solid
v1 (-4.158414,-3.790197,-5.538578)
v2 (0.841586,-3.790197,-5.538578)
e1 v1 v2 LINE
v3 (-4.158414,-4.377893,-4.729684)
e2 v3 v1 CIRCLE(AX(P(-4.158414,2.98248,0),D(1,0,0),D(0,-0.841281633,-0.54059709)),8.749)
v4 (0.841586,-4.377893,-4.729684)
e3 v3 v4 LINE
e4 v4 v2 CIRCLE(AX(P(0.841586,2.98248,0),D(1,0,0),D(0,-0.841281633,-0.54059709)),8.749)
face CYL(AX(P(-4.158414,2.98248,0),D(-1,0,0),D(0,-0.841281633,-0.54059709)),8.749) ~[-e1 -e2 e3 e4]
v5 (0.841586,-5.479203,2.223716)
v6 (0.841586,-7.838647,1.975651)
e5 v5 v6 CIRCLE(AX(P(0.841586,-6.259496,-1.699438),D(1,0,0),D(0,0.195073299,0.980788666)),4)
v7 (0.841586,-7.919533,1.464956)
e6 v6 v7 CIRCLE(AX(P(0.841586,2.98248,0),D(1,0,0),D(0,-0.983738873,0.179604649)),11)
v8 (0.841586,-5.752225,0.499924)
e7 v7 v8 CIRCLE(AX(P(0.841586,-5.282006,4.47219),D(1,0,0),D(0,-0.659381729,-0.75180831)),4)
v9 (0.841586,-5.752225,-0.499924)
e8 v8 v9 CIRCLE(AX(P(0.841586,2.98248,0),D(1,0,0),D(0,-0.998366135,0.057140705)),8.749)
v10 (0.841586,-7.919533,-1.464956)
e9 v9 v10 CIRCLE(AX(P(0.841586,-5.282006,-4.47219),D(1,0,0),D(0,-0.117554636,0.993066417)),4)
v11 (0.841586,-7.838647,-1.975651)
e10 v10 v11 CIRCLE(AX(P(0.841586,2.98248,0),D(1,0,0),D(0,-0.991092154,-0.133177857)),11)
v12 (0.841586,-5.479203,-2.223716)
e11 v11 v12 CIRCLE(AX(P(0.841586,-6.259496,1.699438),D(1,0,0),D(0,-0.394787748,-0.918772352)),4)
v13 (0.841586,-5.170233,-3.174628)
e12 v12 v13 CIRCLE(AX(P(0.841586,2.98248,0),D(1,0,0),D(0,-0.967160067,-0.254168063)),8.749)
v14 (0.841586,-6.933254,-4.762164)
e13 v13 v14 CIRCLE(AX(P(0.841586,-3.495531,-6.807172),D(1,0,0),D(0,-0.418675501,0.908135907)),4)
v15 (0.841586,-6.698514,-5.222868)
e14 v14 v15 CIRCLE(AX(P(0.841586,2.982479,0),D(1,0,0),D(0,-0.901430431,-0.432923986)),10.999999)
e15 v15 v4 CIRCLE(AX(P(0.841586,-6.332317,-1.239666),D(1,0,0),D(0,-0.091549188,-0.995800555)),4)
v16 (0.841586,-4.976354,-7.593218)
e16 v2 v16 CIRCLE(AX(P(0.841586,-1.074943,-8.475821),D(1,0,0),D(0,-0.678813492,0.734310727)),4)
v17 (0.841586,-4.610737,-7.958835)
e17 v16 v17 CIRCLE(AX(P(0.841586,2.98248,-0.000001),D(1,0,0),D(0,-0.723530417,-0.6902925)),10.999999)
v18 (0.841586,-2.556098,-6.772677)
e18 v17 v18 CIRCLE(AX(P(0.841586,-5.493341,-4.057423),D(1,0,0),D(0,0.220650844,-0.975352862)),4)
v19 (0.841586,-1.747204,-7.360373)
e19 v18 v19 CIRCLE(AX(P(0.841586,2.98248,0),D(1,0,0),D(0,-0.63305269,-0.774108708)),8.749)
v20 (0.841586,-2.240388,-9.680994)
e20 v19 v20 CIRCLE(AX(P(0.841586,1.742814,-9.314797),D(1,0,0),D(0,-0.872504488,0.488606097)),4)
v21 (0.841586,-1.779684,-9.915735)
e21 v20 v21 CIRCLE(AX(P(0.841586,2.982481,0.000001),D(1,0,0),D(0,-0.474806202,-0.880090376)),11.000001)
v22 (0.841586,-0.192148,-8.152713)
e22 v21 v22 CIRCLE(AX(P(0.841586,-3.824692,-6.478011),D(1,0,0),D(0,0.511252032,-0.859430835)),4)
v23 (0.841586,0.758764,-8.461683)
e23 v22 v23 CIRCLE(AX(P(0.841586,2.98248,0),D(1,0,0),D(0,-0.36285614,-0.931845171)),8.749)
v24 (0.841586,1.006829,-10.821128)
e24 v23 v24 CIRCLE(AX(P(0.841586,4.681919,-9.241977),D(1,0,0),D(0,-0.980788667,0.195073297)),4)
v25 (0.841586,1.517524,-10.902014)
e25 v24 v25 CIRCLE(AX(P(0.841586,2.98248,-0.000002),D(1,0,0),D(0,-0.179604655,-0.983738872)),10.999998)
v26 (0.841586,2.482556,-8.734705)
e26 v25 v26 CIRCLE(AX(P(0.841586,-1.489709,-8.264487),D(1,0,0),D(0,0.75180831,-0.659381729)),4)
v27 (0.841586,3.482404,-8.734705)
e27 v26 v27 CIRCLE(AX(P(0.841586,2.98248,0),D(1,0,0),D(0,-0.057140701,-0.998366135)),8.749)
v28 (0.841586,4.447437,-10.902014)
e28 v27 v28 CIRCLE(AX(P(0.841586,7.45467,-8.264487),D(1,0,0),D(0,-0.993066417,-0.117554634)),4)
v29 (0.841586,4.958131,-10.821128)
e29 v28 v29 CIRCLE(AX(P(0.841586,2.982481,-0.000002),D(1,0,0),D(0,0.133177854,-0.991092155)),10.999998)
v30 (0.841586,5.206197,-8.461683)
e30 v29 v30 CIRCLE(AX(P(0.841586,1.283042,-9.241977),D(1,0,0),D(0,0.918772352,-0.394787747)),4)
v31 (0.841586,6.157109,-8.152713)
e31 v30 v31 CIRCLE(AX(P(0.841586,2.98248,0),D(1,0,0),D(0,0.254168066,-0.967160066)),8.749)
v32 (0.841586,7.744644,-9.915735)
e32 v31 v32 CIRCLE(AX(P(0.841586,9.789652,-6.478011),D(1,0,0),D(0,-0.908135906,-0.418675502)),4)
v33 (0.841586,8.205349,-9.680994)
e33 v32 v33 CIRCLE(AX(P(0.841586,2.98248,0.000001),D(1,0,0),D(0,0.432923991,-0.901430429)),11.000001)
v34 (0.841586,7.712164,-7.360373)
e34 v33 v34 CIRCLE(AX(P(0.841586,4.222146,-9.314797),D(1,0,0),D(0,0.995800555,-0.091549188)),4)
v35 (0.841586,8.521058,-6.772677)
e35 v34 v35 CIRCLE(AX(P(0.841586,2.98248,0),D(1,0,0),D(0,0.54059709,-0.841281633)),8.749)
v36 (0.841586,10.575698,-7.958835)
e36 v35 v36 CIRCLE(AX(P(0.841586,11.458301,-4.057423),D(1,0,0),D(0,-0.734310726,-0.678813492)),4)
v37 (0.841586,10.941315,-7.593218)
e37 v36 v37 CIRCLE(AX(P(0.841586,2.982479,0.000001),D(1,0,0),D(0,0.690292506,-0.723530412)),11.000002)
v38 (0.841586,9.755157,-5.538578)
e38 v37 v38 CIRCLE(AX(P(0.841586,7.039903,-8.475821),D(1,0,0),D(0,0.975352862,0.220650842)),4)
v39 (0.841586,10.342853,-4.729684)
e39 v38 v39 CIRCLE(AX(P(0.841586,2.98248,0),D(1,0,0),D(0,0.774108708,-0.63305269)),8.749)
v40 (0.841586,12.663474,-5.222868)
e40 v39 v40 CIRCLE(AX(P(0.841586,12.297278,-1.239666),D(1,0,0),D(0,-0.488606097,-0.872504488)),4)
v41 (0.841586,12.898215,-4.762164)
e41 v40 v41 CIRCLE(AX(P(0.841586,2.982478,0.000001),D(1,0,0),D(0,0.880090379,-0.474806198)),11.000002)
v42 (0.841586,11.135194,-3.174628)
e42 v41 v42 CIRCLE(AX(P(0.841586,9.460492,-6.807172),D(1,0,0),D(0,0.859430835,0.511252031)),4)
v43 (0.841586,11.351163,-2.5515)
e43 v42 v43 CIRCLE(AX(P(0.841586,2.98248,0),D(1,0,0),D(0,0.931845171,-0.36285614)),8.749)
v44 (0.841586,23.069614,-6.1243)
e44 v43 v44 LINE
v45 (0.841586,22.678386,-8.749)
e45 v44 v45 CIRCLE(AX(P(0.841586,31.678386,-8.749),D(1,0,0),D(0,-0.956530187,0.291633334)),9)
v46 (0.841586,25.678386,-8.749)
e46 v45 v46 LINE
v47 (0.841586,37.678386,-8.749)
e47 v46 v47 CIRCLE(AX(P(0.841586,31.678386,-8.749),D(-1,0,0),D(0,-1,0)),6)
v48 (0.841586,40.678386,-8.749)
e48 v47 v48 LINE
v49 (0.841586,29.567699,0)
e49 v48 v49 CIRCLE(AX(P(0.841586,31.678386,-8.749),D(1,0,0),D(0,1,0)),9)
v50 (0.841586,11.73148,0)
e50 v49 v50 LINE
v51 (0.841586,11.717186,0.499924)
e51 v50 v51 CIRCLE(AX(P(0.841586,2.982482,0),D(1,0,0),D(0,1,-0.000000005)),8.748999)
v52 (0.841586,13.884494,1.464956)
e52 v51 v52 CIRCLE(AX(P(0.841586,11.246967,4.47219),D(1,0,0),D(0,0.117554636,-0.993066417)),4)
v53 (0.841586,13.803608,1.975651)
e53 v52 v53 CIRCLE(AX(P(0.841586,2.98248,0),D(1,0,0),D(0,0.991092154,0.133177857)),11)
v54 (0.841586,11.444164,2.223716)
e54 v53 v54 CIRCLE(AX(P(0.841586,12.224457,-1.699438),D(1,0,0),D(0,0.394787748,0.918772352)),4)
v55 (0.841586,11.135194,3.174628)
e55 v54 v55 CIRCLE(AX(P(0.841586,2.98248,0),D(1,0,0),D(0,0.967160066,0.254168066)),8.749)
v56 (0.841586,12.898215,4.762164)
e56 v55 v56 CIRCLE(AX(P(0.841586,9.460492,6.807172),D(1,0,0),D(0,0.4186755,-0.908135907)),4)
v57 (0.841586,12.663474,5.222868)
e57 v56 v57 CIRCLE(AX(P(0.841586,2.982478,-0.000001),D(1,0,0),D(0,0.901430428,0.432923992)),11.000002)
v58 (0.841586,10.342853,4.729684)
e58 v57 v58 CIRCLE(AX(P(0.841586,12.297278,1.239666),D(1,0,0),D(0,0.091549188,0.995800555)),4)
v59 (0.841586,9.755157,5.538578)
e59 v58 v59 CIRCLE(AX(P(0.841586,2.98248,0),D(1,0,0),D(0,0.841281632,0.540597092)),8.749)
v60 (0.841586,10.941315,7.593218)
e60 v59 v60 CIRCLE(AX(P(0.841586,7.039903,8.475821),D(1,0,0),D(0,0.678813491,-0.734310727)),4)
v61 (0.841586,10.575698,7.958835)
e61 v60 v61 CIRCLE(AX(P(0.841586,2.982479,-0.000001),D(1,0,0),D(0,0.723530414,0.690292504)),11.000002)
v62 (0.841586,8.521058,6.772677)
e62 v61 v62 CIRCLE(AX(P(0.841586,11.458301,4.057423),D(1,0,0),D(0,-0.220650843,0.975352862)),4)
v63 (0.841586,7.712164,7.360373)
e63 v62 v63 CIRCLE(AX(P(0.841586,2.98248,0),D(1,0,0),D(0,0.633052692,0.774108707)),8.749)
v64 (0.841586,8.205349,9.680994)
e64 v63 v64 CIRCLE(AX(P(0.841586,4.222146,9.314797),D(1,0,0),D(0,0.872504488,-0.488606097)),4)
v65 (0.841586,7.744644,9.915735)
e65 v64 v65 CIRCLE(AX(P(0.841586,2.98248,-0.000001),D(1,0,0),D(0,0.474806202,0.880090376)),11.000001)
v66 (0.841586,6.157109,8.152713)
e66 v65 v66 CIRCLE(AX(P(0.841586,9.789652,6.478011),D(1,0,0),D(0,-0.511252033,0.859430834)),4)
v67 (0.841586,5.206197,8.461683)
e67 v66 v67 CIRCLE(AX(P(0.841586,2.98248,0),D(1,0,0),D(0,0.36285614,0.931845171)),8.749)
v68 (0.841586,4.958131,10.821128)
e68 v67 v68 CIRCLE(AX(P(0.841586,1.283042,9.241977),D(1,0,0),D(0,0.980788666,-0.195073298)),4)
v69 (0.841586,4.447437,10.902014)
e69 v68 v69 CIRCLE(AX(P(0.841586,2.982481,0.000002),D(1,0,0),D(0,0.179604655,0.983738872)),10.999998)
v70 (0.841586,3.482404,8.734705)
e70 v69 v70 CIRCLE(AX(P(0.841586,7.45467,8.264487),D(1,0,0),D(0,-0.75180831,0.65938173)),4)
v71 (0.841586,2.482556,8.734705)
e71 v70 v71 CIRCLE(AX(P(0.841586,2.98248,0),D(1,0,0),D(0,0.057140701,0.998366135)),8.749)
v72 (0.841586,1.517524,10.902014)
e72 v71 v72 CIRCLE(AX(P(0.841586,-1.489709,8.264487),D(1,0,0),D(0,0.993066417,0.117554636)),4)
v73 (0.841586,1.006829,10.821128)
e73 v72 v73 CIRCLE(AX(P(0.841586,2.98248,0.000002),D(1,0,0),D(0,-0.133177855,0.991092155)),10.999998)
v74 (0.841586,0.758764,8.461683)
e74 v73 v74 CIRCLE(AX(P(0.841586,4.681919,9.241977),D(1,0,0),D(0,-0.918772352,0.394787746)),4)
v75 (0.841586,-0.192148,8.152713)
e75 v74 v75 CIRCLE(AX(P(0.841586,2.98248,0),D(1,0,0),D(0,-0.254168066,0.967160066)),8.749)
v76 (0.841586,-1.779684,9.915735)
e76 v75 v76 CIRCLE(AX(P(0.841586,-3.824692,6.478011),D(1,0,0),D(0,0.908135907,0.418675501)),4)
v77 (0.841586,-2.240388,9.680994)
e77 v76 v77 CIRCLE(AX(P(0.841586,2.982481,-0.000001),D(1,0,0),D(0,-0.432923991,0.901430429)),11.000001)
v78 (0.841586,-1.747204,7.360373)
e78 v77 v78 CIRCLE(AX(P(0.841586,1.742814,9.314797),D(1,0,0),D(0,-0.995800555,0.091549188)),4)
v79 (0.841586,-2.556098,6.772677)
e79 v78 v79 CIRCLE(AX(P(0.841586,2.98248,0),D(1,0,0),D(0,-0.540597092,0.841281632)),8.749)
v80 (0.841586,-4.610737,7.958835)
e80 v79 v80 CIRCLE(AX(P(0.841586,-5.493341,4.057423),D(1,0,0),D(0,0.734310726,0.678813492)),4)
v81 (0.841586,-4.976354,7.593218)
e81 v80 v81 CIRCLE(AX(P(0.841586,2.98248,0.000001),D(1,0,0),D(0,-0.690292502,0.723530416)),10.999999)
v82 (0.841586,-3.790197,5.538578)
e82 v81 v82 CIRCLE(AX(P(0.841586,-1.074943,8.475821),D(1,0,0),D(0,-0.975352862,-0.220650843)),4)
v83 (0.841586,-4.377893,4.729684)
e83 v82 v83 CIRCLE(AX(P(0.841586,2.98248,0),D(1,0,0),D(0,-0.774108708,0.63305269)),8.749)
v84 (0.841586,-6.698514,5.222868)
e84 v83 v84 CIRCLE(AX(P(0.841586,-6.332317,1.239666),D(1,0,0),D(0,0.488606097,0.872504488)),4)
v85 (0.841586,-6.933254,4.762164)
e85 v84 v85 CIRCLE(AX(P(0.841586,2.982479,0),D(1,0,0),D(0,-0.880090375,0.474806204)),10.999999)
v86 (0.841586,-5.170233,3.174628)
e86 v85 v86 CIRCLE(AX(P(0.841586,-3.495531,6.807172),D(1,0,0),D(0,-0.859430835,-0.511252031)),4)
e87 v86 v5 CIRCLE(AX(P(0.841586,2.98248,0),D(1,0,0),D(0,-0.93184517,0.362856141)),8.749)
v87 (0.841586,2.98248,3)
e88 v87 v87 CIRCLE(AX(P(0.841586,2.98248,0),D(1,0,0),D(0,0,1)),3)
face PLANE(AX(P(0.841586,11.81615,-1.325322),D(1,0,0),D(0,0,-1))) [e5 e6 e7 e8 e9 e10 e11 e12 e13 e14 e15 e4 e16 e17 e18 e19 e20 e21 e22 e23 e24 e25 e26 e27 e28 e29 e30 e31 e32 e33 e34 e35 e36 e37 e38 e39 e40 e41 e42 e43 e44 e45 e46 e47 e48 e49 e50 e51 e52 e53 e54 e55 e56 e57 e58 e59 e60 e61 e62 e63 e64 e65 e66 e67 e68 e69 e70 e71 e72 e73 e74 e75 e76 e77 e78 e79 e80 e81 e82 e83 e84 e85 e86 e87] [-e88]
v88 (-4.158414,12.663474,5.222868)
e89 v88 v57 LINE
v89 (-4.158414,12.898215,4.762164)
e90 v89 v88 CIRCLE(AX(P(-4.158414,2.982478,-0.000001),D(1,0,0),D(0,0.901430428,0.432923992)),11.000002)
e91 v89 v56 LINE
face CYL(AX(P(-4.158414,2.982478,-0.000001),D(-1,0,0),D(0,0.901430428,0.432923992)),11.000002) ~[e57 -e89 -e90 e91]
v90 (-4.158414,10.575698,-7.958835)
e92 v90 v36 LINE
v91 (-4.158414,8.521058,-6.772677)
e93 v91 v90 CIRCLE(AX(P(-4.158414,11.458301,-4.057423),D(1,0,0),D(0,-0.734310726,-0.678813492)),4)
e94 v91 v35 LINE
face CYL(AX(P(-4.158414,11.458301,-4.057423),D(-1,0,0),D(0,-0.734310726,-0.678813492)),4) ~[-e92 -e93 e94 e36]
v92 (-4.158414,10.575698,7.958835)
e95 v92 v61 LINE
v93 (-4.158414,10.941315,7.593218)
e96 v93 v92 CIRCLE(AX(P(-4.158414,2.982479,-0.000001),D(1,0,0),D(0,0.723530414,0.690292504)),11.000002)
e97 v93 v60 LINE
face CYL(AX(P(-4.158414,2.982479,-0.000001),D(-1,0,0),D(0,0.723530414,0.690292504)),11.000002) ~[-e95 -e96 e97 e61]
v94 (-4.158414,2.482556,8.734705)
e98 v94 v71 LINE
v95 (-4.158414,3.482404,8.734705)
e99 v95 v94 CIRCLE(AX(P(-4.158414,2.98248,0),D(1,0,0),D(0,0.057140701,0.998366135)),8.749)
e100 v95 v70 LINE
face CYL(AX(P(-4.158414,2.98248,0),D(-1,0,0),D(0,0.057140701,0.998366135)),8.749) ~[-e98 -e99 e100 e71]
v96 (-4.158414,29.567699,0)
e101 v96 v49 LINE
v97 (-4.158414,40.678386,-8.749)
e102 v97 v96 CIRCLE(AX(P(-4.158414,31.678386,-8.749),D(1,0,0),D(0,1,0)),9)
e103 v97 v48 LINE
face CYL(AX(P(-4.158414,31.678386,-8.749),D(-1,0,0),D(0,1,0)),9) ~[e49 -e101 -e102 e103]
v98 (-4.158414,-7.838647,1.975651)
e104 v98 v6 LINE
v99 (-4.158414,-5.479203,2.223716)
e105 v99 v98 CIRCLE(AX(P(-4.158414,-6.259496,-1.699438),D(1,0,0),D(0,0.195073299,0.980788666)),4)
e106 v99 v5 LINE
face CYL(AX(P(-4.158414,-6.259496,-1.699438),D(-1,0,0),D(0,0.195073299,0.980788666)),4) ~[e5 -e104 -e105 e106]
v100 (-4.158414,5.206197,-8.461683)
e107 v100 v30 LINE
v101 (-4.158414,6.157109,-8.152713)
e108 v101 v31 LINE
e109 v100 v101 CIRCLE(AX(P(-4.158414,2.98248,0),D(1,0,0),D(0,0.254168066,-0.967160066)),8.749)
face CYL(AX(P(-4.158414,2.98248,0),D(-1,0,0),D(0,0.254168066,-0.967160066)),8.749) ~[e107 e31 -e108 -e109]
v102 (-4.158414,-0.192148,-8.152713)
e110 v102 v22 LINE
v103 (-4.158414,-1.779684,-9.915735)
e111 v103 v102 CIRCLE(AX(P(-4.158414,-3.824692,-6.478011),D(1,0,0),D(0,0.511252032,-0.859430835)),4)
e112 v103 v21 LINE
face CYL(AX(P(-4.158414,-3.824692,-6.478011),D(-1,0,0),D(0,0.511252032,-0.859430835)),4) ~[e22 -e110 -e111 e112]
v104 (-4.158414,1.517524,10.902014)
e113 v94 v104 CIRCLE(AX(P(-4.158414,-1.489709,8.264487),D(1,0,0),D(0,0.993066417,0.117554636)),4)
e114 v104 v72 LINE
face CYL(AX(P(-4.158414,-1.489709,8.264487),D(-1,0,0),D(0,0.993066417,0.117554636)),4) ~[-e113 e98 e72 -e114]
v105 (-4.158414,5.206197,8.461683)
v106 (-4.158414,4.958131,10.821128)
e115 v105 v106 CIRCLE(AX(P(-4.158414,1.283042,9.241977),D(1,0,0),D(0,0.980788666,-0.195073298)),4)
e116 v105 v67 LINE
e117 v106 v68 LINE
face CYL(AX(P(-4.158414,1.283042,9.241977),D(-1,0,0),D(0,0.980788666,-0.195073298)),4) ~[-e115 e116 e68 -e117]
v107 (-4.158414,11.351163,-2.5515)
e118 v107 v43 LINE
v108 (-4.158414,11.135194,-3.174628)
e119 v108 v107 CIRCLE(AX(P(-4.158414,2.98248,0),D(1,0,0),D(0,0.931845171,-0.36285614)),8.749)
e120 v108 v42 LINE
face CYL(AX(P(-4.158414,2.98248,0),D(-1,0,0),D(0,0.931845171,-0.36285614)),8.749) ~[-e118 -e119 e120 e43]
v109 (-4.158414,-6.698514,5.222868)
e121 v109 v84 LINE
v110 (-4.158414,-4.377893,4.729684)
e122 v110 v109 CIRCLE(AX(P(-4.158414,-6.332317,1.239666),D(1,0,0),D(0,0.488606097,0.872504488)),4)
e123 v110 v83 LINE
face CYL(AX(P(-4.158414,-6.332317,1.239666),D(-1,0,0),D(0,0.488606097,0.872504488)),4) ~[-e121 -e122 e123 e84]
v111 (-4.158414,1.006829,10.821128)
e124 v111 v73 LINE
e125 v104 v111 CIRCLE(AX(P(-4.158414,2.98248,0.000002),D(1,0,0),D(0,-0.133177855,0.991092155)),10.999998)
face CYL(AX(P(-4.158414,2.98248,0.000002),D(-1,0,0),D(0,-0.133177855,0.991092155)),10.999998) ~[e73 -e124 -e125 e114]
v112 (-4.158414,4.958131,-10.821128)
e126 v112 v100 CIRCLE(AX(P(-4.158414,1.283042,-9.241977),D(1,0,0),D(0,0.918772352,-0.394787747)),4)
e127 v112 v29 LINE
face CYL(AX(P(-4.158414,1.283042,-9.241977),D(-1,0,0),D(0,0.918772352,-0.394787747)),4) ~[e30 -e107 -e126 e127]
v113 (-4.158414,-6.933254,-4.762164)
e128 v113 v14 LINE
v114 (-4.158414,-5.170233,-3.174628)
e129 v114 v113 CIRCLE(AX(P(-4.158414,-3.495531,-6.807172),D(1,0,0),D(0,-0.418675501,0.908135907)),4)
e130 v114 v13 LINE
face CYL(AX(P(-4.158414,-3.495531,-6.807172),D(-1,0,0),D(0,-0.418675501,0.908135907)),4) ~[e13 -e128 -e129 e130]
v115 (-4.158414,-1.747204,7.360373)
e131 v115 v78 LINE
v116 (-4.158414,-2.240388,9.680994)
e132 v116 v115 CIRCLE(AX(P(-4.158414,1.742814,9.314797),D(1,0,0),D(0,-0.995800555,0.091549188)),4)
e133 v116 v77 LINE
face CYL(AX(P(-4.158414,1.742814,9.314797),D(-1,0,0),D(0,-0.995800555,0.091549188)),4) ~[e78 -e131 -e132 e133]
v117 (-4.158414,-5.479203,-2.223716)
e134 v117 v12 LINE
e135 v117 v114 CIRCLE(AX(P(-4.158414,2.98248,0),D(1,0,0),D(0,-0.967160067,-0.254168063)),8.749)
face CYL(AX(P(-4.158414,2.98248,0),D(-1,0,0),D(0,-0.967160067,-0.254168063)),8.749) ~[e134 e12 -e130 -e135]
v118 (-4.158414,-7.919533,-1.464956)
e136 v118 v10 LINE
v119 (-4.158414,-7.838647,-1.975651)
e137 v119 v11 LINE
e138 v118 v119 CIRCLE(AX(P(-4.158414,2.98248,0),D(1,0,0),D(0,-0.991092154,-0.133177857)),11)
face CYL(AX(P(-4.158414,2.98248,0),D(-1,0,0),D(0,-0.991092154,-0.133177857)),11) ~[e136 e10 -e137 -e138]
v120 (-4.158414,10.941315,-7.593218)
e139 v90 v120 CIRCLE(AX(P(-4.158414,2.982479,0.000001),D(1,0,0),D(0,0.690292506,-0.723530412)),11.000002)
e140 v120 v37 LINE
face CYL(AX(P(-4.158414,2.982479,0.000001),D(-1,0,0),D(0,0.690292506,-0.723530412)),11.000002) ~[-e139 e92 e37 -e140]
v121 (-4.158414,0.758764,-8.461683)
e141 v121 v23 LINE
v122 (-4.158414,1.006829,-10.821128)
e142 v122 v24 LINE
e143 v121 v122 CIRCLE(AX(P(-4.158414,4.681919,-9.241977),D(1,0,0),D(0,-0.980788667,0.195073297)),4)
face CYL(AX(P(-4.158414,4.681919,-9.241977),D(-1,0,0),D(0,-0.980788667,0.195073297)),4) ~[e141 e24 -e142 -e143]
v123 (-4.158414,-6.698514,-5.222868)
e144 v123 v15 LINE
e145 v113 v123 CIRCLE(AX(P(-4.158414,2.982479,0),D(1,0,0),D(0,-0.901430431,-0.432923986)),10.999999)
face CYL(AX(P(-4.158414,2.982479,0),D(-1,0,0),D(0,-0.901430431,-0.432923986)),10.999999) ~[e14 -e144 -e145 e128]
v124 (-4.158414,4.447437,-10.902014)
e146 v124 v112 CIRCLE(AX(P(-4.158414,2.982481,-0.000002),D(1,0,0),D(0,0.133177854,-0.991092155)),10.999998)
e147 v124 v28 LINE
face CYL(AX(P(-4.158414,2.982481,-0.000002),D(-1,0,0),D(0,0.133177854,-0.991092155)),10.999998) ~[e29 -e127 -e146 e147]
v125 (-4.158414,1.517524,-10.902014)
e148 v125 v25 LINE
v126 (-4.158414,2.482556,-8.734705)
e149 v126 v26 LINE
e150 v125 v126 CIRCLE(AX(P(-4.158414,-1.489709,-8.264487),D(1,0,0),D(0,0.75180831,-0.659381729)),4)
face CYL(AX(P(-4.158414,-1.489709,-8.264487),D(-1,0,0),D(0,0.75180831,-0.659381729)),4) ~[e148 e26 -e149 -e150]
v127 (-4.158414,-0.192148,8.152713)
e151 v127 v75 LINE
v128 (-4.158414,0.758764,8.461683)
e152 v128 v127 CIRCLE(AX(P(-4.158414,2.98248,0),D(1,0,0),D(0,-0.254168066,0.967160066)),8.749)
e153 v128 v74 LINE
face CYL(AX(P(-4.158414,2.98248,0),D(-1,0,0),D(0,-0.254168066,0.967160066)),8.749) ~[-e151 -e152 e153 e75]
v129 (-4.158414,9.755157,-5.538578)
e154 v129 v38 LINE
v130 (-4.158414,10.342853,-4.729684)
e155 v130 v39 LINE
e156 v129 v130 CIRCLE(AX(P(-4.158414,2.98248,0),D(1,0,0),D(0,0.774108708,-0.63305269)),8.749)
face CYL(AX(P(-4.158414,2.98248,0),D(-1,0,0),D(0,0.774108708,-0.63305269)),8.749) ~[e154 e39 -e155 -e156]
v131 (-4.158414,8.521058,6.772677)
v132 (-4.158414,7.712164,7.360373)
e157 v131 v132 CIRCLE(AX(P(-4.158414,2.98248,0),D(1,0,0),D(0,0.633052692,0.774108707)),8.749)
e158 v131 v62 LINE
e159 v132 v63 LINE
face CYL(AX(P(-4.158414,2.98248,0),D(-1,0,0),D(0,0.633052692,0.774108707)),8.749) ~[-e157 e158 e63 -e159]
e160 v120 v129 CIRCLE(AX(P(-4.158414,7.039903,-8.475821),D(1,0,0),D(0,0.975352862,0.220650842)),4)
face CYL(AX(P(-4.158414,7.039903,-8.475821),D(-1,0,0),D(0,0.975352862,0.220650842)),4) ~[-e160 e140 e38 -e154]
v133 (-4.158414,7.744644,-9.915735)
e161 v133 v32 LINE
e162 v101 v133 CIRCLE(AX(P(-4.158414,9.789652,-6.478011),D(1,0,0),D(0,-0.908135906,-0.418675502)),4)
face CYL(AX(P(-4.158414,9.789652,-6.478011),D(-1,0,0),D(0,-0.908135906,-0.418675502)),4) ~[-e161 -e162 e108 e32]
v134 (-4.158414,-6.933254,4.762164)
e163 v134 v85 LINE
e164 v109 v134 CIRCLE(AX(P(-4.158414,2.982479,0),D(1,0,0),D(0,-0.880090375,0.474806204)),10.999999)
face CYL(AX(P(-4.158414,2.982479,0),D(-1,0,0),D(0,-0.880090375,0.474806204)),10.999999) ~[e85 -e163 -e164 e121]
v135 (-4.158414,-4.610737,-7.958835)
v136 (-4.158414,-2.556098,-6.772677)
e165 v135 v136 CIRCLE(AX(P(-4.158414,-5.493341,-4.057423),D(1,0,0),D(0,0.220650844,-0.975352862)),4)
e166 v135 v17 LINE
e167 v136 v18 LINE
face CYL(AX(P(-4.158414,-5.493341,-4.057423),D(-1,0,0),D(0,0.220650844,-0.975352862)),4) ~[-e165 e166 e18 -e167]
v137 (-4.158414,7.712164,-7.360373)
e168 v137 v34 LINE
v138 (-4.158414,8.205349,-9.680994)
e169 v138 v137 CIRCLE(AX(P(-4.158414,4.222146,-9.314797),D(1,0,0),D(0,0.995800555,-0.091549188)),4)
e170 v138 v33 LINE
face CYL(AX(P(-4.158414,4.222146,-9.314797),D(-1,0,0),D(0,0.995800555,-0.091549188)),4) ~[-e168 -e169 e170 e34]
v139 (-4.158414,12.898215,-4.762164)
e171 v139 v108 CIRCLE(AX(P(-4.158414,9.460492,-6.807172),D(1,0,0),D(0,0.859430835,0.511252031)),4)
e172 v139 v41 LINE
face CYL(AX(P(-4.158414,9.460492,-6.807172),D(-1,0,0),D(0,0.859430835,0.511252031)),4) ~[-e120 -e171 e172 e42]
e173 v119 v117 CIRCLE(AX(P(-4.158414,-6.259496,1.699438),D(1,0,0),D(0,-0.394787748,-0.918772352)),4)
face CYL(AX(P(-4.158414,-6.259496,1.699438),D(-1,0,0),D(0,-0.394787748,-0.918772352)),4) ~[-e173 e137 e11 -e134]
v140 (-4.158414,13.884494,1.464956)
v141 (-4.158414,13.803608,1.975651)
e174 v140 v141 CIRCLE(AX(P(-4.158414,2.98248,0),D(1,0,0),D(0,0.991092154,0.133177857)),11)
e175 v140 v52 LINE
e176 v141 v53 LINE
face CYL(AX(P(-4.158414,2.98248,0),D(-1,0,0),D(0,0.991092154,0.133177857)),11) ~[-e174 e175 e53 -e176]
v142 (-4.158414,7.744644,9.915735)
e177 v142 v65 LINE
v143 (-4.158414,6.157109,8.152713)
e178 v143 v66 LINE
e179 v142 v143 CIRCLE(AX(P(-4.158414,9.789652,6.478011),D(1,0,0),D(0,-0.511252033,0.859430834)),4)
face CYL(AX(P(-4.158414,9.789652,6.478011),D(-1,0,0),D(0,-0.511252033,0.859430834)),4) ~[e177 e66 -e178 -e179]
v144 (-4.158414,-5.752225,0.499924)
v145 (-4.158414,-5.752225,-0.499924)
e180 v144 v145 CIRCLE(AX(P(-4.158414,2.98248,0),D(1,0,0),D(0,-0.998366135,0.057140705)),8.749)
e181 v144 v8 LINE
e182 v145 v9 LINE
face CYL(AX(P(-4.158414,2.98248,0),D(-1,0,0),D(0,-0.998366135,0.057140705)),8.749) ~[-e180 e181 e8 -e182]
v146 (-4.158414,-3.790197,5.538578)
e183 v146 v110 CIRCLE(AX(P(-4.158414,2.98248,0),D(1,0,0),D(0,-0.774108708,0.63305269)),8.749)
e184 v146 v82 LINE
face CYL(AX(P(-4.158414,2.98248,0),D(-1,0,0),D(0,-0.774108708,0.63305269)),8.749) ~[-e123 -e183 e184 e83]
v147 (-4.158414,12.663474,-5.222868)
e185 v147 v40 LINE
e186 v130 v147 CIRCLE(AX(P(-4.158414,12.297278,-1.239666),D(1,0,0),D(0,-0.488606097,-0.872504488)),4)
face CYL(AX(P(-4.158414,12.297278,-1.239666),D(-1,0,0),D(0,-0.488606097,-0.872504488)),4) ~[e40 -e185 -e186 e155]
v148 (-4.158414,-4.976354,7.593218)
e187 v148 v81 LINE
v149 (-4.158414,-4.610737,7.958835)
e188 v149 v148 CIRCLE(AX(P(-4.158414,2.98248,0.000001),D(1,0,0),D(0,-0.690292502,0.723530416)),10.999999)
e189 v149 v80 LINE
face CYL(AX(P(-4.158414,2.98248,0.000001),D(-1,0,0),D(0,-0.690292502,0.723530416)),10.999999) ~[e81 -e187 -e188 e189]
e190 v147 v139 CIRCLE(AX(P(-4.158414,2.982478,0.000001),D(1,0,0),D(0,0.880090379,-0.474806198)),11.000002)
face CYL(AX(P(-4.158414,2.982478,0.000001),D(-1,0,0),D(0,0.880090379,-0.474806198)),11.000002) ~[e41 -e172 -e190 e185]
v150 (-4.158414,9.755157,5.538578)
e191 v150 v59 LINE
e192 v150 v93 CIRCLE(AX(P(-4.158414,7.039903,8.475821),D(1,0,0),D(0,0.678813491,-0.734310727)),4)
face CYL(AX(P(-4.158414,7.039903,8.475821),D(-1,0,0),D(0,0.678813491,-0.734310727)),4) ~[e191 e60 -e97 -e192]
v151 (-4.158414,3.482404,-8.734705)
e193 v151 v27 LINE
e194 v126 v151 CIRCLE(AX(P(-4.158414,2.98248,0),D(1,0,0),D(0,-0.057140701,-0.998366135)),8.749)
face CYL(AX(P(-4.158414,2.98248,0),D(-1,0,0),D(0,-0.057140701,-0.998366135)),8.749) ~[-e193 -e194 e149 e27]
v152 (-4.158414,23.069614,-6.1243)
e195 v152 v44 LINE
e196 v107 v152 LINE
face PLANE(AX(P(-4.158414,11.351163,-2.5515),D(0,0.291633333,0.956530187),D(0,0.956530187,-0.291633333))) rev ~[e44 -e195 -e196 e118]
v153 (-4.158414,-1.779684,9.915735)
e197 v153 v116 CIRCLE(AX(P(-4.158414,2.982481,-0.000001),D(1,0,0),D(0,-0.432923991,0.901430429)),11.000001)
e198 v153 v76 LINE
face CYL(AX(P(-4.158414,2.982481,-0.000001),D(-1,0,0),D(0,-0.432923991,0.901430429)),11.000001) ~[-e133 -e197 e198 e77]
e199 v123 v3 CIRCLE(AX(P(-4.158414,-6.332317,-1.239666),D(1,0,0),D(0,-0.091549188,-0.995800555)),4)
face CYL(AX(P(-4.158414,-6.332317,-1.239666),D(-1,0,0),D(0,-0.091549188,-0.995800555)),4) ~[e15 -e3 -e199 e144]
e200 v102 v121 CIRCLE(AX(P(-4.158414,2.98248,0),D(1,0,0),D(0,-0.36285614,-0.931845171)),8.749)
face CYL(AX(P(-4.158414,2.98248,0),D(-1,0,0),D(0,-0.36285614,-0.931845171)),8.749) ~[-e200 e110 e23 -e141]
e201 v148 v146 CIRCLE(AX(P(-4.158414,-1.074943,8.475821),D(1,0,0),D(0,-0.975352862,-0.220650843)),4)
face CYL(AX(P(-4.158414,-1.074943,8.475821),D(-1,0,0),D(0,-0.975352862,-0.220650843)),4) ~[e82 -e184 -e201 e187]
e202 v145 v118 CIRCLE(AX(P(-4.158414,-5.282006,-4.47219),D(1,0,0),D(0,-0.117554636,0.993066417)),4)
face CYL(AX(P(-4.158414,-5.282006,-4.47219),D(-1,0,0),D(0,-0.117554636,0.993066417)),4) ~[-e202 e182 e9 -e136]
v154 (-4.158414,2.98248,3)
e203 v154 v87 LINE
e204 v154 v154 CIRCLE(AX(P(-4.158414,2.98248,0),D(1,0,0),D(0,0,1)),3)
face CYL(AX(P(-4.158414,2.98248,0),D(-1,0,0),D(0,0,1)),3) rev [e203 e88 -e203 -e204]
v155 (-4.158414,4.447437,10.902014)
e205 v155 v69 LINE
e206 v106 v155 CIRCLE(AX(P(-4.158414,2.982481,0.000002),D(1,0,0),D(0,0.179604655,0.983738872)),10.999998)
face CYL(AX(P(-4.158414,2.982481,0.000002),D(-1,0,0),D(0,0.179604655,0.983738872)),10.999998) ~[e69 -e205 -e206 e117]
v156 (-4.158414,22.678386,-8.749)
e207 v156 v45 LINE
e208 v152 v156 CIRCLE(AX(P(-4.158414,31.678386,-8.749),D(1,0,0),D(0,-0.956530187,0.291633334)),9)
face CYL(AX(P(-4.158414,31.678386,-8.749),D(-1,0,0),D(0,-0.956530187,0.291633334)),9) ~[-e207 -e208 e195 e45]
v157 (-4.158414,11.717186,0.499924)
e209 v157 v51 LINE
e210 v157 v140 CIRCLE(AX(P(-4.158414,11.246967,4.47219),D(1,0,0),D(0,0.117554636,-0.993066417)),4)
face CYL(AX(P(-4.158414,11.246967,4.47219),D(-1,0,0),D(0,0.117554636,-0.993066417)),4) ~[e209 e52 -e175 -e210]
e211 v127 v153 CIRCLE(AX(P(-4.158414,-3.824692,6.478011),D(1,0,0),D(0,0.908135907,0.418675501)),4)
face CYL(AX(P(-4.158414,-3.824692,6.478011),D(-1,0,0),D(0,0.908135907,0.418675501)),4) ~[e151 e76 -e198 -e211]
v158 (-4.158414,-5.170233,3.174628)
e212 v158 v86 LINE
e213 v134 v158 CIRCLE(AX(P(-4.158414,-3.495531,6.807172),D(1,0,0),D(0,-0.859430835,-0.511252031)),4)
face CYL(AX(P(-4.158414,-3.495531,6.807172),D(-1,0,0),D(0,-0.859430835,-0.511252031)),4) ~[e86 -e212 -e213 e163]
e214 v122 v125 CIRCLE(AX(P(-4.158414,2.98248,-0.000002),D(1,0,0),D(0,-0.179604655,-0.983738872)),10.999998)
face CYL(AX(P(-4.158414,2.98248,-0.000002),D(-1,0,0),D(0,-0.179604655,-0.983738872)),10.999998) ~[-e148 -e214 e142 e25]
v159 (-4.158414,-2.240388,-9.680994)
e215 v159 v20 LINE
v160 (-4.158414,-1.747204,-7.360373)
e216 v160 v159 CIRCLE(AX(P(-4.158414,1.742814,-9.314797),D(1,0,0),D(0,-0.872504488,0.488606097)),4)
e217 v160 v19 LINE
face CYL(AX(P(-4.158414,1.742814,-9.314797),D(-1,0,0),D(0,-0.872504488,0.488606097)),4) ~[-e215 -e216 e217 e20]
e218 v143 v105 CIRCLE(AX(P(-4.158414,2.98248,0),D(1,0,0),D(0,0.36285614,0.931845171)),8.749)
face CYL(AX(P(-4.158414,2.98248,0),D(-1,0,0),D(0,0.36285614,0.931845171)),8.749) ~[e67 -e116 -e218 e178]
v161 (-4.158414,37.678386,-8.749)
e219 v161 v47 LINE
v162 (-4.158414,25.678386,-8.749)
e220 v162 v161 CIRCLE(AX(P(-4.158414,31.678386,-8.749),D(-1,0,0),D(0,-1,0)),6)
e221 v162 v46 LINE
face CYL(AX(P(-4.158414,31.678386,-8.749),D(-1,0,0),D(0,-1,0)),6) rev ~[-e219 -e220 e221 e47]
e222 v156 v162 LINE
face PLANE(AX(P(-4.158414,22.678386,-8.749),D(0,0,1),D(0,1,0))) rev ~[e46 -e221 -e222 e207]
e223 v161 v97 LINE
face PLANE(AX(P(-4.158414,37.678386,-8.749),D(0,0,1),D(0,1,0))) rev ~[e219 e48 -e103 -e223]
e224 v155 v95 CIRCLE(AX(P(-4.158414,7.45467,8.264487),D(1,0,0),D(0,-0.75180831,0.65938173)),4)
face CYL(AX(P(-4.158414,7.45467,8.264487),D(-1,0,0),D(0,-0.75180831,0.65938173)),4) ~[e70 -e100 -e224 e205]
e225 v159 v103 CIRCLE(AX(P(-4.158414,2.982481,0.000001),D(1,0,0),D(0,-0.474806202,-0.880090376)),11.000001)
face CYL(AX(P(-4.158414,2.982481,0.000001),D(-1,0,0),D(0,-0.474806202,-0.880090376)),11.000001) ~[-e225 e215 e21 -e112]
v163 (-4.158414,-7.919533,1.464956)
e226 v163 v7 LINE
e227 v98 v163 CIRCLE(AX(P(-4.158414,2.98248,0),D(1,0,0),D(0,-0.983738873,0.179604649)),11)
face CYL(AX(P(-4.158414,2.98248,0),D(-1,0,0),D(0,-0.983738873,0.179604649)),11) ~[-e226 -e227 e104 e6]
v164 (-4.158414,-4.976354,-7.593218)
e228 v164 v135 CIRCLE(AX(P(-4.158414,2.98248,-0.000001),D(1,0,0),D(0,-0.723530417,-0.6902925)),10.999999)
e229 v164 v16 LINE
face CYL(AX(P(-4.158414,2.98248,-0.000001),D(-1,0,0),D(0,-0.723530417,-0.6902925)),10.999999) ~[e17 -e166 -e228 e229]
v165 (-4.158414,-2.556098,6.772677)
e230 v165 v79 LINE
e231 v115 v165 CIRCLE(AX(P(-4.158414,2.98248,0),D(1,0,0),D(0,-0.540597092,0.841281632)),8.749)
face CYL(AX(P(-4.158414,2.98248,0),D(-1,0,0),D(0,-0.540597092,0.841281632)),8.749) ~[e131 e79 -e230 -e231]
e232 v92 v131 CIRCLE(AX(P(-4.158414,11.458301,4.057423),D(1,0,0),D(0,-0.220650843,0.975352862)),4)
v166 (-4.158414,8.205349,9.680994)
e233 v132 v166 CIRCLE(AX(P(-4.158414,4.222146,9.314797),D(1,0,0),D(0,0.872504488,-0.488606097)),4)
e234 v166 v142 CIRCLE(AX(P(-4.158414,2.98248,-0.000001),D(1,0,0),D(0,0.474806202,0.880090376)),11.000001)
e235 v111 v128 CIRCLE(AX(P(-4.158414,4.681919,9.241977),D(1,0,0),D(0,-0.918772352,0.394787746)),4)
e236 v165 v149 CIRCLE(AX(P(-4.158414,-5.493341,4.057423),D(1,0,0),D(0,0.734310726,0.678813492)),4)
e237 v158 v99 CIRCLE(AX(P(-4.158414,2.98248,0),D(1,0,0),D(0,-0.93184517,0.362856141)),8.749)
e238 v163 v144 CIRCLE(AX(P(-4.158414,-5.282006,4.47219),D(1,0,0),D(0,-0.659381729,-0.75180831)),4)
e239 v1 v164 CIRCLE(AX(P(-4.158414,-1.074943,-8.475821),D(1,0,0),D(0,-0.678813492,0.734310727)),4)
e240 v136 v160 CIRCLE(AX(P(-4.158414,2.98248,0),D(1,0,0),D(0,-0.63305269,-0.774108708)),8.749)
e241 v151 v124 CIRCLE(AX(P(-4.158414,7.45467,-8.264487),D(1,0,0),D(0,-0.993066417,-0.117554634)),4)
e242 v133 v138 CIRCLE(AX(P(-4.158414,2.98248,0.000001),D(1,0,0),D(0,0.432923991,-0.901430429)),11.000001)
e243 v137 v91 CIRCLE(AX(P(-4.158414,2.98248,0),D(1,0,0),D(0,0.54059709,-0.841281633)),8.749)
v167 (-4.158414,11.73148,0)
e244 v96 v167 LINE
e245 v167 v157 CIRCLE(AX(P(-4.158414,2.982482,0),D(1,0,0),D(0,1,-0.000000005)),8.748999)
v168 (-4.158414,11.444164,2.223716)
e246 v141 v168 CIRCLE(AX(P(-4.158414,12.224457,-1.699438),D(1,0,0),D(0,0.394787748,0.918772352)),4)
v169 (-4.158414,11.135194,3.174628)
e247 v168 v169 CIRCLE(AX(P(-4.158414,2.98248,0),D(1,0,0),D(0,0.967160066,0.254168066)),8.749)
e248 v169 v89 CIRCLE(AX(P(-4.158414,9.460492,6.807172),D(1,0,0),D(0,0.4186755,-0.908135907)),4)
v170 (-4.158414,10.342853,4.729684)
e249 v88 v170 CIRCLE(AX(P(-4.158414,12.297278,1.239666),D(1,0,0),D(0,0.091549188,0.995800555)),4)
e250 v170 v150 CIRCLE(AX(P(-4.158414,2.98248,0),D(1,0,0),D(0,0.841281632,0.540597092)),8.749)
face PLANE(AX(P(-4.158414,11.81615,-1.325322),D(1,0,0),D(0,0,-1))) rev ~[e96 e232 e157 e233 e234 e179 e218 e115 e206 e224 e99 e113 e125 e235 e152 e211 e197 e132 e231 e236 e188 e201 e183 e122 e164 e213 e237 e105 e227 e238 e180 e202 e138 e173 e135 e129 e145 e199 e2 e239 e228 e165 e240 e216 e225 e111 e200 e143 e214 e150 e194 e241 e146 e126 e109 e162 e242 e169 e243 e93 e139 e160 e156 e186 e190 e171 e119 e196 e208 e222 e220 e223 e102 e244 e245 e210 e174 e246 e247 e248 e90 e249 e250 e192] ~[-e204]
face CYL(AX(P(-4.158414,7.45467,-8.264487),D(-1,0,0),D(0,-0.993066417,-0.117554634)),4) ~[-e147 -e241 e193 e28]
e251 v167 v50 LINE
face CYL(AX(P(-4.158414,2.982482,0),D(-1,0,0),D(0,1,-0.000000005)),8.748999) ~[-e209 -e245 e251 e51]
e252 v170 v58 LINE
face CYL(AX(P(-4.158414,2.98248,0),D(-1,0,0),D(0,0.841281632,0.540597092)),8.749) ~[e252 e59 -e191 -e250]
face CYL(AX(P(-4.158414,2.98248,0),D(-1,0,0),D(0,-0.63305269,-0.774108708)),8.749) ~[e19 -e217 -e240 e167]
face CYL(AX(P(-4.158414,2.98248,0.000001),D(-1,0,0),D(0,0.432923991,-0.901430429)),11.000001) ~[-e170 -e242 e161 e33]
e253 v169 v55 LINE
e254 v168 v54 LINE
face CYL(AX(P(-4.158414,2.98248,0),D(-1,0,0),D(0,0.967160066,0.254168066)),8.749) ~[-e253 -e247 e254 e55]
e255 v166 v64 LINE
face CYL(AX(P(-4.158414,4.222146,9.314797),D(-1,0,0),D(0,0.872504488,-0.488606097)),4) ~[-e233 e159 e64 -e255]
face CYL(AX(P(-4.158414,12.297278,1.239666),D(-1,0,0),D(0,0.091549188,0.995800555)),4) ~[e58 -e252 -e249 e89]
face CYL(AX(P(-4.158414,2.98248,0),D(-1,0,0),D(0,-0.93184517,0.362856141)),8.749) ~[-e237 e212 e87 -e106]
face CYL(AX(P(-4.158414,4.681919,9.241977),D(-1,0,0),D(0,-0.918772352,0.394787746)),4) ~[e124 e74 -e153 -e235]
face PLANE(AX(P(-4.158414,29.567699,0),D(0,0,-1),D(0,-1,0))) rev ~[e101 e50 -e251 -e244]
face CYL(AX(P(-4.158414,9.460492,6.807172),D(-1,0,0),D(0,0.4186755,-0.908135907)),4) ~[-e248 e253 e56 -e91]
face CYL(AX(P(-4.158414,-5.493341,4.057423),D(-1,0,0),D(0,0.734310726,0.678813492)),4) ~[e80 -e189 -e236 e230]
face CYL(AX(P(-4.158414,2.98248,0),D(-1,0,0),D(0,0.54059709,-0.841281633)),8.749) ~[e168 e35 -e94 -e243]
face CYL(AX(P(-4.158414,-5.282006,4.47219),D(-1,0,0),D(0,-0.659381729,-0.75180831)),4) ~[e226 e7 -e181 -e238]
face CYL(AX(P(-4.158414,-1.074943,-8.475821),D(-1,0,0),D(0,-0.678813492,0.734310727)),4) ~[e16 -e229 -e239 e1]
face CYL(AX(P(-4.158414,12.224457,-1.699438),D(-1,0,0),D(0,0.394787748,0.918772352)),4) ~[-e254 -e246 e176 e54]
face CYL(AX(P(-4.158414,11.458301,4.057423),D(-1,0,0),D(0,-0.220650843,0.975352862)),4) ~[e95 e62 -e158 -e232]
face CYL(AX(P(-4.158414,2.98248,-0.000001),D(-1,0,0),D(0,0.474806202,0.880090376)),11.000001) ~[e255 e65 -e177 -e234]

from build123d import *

# Parameters (mm, degrees)
SKETCH_2_R      = 3
EXTRUDE_2_DEPTH = 5


with BuildPart() as part:
    # ｽｹｯﾁ2 → ﾎﾞｽ - 押し出し2 (new body)
    with BuildSketch(Plane(origin=(-4.158413815, 0, 0), x_dir=(0, 0, -1), z_dir=(1, 0, 0))):
        with BuildLine():
            Line((8.749, 22.67838595), (8.749, 25.67838595))
            ThreePointArc((8.749, 25.67838595), (2.749, 31.67838595), (8.749, 37.67838595))
            Line((8.749, 37.67838595), (8.749, 40.67838595))
            ThreePointArc((8.749, 40.67838595), (1.678067187, 37.246321757), (0, 29.567699095))
            Line((0, 29.567699095), (0, 11.731480336))
            ThreePointArc((0, 11.731480336), (-0.250064167, 11.727905936), (-0.499924007, 11.717185654))
            ThreePointArc((-0.499924007, 11.717185654), (-0.818060825, 12.87403268), (-1.464956435, 13.884494033))
            ThreePointArc((-1.464956435, 13.884494033), (-1.720779115, 13.847052083), (-1.975651141, 13.803607938))
            ThreePointArc((-1.975651141, 13.803607938), (-2.278635697, 12.642700346), (-2.223716399, 11.444163761))
            ThreePointArc((-2.223716399, 11.444163761), (-2.703589684, 11.303273797), (-3.174628369, 11.135193732))
            ThreePointArc((-3.174628369, 11.135193732), (-3.834679853, 12.137110952), (-4.762163869, 12.898215069))
            ThreePointArc((-4.762163869, 12.898215069), (-4.993895497, 12.783552102), (-5.222868219, 12.663474478))
            ThreePointArc((-5.222868219, 12.663474478), (-5.15228348, 11.465758371), (-4.729683951, 10.342853338))
            ThreePointArc((-4.729683951, 10.342853338), (-5.142533172, 10.06057002), (-5.538577987, 9.75515742))
            ThreePointArc((-5.538577987, 9.75515742), (-6.4759337, 10.504070195), (-7.593217523, 10.941314902))
            ThreePointArc((-7.593217523, 10.941314902), (-7.778174593, 10.760654929), (-7.958834566, 10.57569786))
            ThreePointArc((-7.958834566, 10.57569786), (-7.521589858, 9.458414036), (-6.772677084, 8.521058323))
            ThreePointArc((-6.772677084, 8.521058323), (-7.078089684, 8.125013509), (-7.360373002, 7.712164287))
            ThreePointArc((-7.360373002, 7.712164287), (-8.483278035, 8.134763816), (-9.680994141, 8.205348555))
            ThreePointArc((-9.680994141, 8.205348555), (-9.801071766, 7.976375833), (-9.915734733, 7.744644205))
            ThreePointArc((-9.915734733, 7.744644205), (-9.154630615, 6.81716019), (-8.152713396, 6.157108705))
            ThreePointArc((-8.152713396, 6.157108705), (-8.320793461, 5.68607002), (-8.461683425, 5.206196735))
            ThreePointArc((-8.461683425, 5.206196735), (-9.66022001, 5.261116033), (-10.821127601, 4.958131478))
            ThreePointArc((-10.821127601, 4.958131478), (-10.864571747, 4.703259452), (-10.902013697, 4.447436771))
            ThreePointArc((-10.902013697, 4.447436771), (-9.891552344, 3.800541161), (-8.734705318, 3.482404344))
            ThreePointArc((-8.734705318, 3.482404344), (-8.749, 2.982480336), (-8.734705318, 2.482556329))
            ThreePointArc((-8.734705318, 2.482556329), (-9.891552344, 2.164419511), (-10.902013697, 1.517523901))
            ThreePointArc((-10.902013697, 1.517523901), (-10.864571747, 1.261701221), (-10.821127601, 1.006829195))
            ThreePointArc((-10.821127601, 1.006829195), (-9.66022001, 0.70384464), (-8.461683425, 0.758763937))
            ThreePointArc((-8.461683425, 0.758763937), (-8.320793461, 0.278890652), (-8.152713396, -0.192148033))
            ThreePointArc((-8.152713396, -0.192148033), (-9.154630615, -0.852199517), (-9.915734733, -1.779683533))
            ThreePointArc((-9.915734733, -1.779683533), (-9.801071766, -2.011415161), (-9.680994141, -2.240387883))
            ThreePointArc((-9.680994141, -2.240387883), (-8.483278035, -2.169803144), (-7.360373002, -1.747203615))
            ThreePointArc((-7.360373002, -1.747203615), (-7.078089684, -2.160052836), (-6.772677084, -2.556097651))
            ThreePointArc((-6.772677084, -2.556097651), (-7.521589858, -3.493453364), (-7.958834566, -4.610737187))
            ThreePointArc((-7.958834566, -4.610737187), (-7.778174593, -4.795694257), (-7.593217523, -4.976354229))
            ThreePointArc((-7.593217523, -4.976354229), (-6.4759337, -4.539109522), (-5.538577987, -3.790196748))
            ThreePointArc((-5.538577987, -3.790196748), (-5.142533172, -4.095609348), (-4.729683951, -4.377892665))
            ThreePointArc((-4.729683951, -4.377892665), (-5.15228348, -5.500797699), (-5.222868219, -6.698513805))
            ThreePointArc((-5.222868219, -6.698513805), (-4.993895497, -6.81859143), (-4.762163869, -6.933254396))
            ThreePointArc((-4.762163869, -6.933254396), (-3.834679853, -6.172150279), (-3.174628369, -5.17023306))
            ThreePointArc((-3.174628369, -5.17023306), (-2.703589684, -5.338313125), (-2.223716399, -5.479203088))
            ThreePointArc((-2.223716399, -5.479203088), (-2.278635697, -6.677739674), (-1.975651141, -7.838647265))
            ThreePointArc((-1.975651141, -7.838647265), (-1.720779115, -7.88209141), (-1.464956435, -7.91953336))
            ThreePointArc((-1.464956435, -7.91953336), (-0.818060825, -6.909072007), (-0.499924007, -5.752224981))
            ThreePointArc((-0.499924007, -5.752224981), (0, -5.766519664), (0.499924007, -5.752224981))
            ThreePointArc((0.499924007, -5.752224981), (0.818060825, -6.909072007), (1.464956435, -7.91953336))
            ThreePointArc((1.464956435, -7.91953336), (1.720779115, -7.88209141), (1.975651141, -7.838647265))
            ThreePointArc((1.975651141, -7.838647265), (2.278635697, -6.677739674), (2.223716399, -5.479203088))
            ThreePointArc((2.223716399, -5.479203088), (2.703589684, -5.338313125), (3.174628369, -5.17023306))
            ThreePointArc((3.174628369, -5.17023306), (3.834679853, -6.172150279), (4.762163869, -6.933254396))
            ThreePointArc((4.762163869, -6.933254396), (4.993895497, -6.81859143), (5.222868219, -6.698513805))
            ThreePointArc((5.222868219, -6.698513805), (5.15228348, -5.500797699), (4.729683951, -4.377892665))
            ThreePointArc((4.729683951, -4.377892665), (5.142533172, -4.095609348), (5.538577987, -3.790196748))
            ThreePointArc((5.538577987, -3.790196748), (6.4759337, -4.539109522), (7.593217523, -4.976354229))
            ThreePointArc((7.593217523, -4.976354229), (7.778174593, -4.795694257), (7.958834566, -4.610737187))
            ThreePointArc((7.958834566, -4.610737187), (7.521589858, -3.493453364), (6.772677084, -2.556097651))
            ThreePointArc((6.772677084, -2.556097651), (7.078089684, -2.160052836), (7.360373002, -1.747203615))
            ThreePointArc((7.360373002, -1.747203615), (8.483278035, -2.169803144), (9.680994141, -2.240387883))
            ThreePointArc((9.680994141, -2.240387883), (9.801071766, -2.011415161), (9.915734733, -1.779683533))
            ThreePointArc((9.915734733, -1.779683533), (9.154630615, -0.852199517), (8.152713396, -0.192148033))
            ThreePointArc((8.152713396, -0.192148033), (8.320793461, 0.278890652), (8.461683425, 0.758763937))
            ThreePointArc((8.461683425, 0.758763937), (9.66022001, 0.70384464), (10.821127601, 1.006829195))
            ThreePointArc((10.821127601, 1.006829195), (10.864571747, 1.261701221), (10.902013697, 1.517523901))
            ThreePointArc((10.902013697, 1.517523901), (9.891552344, 2.164419511), (8.734705318, 2.482556329))
            ThreePointArc((8.734705318, 2.482556329), (8.749, 2.982480336), (8.734705318, 3.482404344))
            ThreePointArc((8.734705318, 3.482404344), (9.891552344, 3.800541161), (10.902013697, 4.447436771))
            ThreePointArc((10.902013697, 4.447436771), (10.864571747, 4.703259452), (10.821127601, 4.958131478))
            ThreePointArc((10.821127601, 4.958131478), (9.66022001, 5.261116033), (8.461683425, 5.206196735))
            ThreePointArc((8.461683425, 5.206196735), (8.320793461, 5.68607002), (8.152713396, 6.157108705))
            ThreePointArc((8.152713396, 6.157108705), (9.154630615, 6.81716019), (9.915734733, 7.744644205))
            ThreePointArc((9.915734733, 7.744644205), (9.801071766, 7.976375833), (9.680994141, 8.205348555))
            ThreePointArc((9.680994141, 8.205348555), (8.483278035, 8.134763816), (7.360373002, 7.712164287))
            ThreePointArc((7.360373002, 7.712164287), (7.078089684, 8.125013509), (6.772677084, 8.521058323))
            ThreePointArc((6.772677084, 8.521058323), (7.521589858, 9.458414036), (7.958834566, 10.57569786))
            ThreePointArc((7.958834566, 10.57569786), (7.778174593, 10.760654929), (7.593217523, 10.941314902))
            ThreePointArc((7.593217523, 10.941314902), (6.4759337, 10.504070195), (5.538577987, 9.75515742))
            ThreePointArc((5.538577987, 9.75515742), (5.142533172, 10.06057002), (4.729683951, 10.342853338))
            ThreePointArc((4.729683951, 10.342853338), (5.15228348, 11.465758371), (5.222868219, 12.663474478))
            ThreePointArc((5.222868219, 12.663474478), (4.993895497, 12.783552102), (4.762163869, 12.898215069))
            ThreePointArc((4.762163869, 12.898215069), (3.834679853, 12.137110952), (3.174628369, 11.135193732))
            ThreePointArc((3.174628369, 11.135193732), (2.865099875, 11.249051796), (2.551500033, 11.351162943))
            Line((2.551500033, 11.351162943), (6.1243, 23.069614266))
            ThreePointArc((6.1243, 23.069614266), (7.422151319, 22.776730341), (8.749, 22.67838595))
        make_face()
        with Locations(Location((0, 2.982480336, 0), (0, 0, 180))):
            Circle(SKETCH_2_R, mode=Mode.SUBTRACT)
    extrude(amount=EXTRUDE_2_DEPTH)


solid = part.part
